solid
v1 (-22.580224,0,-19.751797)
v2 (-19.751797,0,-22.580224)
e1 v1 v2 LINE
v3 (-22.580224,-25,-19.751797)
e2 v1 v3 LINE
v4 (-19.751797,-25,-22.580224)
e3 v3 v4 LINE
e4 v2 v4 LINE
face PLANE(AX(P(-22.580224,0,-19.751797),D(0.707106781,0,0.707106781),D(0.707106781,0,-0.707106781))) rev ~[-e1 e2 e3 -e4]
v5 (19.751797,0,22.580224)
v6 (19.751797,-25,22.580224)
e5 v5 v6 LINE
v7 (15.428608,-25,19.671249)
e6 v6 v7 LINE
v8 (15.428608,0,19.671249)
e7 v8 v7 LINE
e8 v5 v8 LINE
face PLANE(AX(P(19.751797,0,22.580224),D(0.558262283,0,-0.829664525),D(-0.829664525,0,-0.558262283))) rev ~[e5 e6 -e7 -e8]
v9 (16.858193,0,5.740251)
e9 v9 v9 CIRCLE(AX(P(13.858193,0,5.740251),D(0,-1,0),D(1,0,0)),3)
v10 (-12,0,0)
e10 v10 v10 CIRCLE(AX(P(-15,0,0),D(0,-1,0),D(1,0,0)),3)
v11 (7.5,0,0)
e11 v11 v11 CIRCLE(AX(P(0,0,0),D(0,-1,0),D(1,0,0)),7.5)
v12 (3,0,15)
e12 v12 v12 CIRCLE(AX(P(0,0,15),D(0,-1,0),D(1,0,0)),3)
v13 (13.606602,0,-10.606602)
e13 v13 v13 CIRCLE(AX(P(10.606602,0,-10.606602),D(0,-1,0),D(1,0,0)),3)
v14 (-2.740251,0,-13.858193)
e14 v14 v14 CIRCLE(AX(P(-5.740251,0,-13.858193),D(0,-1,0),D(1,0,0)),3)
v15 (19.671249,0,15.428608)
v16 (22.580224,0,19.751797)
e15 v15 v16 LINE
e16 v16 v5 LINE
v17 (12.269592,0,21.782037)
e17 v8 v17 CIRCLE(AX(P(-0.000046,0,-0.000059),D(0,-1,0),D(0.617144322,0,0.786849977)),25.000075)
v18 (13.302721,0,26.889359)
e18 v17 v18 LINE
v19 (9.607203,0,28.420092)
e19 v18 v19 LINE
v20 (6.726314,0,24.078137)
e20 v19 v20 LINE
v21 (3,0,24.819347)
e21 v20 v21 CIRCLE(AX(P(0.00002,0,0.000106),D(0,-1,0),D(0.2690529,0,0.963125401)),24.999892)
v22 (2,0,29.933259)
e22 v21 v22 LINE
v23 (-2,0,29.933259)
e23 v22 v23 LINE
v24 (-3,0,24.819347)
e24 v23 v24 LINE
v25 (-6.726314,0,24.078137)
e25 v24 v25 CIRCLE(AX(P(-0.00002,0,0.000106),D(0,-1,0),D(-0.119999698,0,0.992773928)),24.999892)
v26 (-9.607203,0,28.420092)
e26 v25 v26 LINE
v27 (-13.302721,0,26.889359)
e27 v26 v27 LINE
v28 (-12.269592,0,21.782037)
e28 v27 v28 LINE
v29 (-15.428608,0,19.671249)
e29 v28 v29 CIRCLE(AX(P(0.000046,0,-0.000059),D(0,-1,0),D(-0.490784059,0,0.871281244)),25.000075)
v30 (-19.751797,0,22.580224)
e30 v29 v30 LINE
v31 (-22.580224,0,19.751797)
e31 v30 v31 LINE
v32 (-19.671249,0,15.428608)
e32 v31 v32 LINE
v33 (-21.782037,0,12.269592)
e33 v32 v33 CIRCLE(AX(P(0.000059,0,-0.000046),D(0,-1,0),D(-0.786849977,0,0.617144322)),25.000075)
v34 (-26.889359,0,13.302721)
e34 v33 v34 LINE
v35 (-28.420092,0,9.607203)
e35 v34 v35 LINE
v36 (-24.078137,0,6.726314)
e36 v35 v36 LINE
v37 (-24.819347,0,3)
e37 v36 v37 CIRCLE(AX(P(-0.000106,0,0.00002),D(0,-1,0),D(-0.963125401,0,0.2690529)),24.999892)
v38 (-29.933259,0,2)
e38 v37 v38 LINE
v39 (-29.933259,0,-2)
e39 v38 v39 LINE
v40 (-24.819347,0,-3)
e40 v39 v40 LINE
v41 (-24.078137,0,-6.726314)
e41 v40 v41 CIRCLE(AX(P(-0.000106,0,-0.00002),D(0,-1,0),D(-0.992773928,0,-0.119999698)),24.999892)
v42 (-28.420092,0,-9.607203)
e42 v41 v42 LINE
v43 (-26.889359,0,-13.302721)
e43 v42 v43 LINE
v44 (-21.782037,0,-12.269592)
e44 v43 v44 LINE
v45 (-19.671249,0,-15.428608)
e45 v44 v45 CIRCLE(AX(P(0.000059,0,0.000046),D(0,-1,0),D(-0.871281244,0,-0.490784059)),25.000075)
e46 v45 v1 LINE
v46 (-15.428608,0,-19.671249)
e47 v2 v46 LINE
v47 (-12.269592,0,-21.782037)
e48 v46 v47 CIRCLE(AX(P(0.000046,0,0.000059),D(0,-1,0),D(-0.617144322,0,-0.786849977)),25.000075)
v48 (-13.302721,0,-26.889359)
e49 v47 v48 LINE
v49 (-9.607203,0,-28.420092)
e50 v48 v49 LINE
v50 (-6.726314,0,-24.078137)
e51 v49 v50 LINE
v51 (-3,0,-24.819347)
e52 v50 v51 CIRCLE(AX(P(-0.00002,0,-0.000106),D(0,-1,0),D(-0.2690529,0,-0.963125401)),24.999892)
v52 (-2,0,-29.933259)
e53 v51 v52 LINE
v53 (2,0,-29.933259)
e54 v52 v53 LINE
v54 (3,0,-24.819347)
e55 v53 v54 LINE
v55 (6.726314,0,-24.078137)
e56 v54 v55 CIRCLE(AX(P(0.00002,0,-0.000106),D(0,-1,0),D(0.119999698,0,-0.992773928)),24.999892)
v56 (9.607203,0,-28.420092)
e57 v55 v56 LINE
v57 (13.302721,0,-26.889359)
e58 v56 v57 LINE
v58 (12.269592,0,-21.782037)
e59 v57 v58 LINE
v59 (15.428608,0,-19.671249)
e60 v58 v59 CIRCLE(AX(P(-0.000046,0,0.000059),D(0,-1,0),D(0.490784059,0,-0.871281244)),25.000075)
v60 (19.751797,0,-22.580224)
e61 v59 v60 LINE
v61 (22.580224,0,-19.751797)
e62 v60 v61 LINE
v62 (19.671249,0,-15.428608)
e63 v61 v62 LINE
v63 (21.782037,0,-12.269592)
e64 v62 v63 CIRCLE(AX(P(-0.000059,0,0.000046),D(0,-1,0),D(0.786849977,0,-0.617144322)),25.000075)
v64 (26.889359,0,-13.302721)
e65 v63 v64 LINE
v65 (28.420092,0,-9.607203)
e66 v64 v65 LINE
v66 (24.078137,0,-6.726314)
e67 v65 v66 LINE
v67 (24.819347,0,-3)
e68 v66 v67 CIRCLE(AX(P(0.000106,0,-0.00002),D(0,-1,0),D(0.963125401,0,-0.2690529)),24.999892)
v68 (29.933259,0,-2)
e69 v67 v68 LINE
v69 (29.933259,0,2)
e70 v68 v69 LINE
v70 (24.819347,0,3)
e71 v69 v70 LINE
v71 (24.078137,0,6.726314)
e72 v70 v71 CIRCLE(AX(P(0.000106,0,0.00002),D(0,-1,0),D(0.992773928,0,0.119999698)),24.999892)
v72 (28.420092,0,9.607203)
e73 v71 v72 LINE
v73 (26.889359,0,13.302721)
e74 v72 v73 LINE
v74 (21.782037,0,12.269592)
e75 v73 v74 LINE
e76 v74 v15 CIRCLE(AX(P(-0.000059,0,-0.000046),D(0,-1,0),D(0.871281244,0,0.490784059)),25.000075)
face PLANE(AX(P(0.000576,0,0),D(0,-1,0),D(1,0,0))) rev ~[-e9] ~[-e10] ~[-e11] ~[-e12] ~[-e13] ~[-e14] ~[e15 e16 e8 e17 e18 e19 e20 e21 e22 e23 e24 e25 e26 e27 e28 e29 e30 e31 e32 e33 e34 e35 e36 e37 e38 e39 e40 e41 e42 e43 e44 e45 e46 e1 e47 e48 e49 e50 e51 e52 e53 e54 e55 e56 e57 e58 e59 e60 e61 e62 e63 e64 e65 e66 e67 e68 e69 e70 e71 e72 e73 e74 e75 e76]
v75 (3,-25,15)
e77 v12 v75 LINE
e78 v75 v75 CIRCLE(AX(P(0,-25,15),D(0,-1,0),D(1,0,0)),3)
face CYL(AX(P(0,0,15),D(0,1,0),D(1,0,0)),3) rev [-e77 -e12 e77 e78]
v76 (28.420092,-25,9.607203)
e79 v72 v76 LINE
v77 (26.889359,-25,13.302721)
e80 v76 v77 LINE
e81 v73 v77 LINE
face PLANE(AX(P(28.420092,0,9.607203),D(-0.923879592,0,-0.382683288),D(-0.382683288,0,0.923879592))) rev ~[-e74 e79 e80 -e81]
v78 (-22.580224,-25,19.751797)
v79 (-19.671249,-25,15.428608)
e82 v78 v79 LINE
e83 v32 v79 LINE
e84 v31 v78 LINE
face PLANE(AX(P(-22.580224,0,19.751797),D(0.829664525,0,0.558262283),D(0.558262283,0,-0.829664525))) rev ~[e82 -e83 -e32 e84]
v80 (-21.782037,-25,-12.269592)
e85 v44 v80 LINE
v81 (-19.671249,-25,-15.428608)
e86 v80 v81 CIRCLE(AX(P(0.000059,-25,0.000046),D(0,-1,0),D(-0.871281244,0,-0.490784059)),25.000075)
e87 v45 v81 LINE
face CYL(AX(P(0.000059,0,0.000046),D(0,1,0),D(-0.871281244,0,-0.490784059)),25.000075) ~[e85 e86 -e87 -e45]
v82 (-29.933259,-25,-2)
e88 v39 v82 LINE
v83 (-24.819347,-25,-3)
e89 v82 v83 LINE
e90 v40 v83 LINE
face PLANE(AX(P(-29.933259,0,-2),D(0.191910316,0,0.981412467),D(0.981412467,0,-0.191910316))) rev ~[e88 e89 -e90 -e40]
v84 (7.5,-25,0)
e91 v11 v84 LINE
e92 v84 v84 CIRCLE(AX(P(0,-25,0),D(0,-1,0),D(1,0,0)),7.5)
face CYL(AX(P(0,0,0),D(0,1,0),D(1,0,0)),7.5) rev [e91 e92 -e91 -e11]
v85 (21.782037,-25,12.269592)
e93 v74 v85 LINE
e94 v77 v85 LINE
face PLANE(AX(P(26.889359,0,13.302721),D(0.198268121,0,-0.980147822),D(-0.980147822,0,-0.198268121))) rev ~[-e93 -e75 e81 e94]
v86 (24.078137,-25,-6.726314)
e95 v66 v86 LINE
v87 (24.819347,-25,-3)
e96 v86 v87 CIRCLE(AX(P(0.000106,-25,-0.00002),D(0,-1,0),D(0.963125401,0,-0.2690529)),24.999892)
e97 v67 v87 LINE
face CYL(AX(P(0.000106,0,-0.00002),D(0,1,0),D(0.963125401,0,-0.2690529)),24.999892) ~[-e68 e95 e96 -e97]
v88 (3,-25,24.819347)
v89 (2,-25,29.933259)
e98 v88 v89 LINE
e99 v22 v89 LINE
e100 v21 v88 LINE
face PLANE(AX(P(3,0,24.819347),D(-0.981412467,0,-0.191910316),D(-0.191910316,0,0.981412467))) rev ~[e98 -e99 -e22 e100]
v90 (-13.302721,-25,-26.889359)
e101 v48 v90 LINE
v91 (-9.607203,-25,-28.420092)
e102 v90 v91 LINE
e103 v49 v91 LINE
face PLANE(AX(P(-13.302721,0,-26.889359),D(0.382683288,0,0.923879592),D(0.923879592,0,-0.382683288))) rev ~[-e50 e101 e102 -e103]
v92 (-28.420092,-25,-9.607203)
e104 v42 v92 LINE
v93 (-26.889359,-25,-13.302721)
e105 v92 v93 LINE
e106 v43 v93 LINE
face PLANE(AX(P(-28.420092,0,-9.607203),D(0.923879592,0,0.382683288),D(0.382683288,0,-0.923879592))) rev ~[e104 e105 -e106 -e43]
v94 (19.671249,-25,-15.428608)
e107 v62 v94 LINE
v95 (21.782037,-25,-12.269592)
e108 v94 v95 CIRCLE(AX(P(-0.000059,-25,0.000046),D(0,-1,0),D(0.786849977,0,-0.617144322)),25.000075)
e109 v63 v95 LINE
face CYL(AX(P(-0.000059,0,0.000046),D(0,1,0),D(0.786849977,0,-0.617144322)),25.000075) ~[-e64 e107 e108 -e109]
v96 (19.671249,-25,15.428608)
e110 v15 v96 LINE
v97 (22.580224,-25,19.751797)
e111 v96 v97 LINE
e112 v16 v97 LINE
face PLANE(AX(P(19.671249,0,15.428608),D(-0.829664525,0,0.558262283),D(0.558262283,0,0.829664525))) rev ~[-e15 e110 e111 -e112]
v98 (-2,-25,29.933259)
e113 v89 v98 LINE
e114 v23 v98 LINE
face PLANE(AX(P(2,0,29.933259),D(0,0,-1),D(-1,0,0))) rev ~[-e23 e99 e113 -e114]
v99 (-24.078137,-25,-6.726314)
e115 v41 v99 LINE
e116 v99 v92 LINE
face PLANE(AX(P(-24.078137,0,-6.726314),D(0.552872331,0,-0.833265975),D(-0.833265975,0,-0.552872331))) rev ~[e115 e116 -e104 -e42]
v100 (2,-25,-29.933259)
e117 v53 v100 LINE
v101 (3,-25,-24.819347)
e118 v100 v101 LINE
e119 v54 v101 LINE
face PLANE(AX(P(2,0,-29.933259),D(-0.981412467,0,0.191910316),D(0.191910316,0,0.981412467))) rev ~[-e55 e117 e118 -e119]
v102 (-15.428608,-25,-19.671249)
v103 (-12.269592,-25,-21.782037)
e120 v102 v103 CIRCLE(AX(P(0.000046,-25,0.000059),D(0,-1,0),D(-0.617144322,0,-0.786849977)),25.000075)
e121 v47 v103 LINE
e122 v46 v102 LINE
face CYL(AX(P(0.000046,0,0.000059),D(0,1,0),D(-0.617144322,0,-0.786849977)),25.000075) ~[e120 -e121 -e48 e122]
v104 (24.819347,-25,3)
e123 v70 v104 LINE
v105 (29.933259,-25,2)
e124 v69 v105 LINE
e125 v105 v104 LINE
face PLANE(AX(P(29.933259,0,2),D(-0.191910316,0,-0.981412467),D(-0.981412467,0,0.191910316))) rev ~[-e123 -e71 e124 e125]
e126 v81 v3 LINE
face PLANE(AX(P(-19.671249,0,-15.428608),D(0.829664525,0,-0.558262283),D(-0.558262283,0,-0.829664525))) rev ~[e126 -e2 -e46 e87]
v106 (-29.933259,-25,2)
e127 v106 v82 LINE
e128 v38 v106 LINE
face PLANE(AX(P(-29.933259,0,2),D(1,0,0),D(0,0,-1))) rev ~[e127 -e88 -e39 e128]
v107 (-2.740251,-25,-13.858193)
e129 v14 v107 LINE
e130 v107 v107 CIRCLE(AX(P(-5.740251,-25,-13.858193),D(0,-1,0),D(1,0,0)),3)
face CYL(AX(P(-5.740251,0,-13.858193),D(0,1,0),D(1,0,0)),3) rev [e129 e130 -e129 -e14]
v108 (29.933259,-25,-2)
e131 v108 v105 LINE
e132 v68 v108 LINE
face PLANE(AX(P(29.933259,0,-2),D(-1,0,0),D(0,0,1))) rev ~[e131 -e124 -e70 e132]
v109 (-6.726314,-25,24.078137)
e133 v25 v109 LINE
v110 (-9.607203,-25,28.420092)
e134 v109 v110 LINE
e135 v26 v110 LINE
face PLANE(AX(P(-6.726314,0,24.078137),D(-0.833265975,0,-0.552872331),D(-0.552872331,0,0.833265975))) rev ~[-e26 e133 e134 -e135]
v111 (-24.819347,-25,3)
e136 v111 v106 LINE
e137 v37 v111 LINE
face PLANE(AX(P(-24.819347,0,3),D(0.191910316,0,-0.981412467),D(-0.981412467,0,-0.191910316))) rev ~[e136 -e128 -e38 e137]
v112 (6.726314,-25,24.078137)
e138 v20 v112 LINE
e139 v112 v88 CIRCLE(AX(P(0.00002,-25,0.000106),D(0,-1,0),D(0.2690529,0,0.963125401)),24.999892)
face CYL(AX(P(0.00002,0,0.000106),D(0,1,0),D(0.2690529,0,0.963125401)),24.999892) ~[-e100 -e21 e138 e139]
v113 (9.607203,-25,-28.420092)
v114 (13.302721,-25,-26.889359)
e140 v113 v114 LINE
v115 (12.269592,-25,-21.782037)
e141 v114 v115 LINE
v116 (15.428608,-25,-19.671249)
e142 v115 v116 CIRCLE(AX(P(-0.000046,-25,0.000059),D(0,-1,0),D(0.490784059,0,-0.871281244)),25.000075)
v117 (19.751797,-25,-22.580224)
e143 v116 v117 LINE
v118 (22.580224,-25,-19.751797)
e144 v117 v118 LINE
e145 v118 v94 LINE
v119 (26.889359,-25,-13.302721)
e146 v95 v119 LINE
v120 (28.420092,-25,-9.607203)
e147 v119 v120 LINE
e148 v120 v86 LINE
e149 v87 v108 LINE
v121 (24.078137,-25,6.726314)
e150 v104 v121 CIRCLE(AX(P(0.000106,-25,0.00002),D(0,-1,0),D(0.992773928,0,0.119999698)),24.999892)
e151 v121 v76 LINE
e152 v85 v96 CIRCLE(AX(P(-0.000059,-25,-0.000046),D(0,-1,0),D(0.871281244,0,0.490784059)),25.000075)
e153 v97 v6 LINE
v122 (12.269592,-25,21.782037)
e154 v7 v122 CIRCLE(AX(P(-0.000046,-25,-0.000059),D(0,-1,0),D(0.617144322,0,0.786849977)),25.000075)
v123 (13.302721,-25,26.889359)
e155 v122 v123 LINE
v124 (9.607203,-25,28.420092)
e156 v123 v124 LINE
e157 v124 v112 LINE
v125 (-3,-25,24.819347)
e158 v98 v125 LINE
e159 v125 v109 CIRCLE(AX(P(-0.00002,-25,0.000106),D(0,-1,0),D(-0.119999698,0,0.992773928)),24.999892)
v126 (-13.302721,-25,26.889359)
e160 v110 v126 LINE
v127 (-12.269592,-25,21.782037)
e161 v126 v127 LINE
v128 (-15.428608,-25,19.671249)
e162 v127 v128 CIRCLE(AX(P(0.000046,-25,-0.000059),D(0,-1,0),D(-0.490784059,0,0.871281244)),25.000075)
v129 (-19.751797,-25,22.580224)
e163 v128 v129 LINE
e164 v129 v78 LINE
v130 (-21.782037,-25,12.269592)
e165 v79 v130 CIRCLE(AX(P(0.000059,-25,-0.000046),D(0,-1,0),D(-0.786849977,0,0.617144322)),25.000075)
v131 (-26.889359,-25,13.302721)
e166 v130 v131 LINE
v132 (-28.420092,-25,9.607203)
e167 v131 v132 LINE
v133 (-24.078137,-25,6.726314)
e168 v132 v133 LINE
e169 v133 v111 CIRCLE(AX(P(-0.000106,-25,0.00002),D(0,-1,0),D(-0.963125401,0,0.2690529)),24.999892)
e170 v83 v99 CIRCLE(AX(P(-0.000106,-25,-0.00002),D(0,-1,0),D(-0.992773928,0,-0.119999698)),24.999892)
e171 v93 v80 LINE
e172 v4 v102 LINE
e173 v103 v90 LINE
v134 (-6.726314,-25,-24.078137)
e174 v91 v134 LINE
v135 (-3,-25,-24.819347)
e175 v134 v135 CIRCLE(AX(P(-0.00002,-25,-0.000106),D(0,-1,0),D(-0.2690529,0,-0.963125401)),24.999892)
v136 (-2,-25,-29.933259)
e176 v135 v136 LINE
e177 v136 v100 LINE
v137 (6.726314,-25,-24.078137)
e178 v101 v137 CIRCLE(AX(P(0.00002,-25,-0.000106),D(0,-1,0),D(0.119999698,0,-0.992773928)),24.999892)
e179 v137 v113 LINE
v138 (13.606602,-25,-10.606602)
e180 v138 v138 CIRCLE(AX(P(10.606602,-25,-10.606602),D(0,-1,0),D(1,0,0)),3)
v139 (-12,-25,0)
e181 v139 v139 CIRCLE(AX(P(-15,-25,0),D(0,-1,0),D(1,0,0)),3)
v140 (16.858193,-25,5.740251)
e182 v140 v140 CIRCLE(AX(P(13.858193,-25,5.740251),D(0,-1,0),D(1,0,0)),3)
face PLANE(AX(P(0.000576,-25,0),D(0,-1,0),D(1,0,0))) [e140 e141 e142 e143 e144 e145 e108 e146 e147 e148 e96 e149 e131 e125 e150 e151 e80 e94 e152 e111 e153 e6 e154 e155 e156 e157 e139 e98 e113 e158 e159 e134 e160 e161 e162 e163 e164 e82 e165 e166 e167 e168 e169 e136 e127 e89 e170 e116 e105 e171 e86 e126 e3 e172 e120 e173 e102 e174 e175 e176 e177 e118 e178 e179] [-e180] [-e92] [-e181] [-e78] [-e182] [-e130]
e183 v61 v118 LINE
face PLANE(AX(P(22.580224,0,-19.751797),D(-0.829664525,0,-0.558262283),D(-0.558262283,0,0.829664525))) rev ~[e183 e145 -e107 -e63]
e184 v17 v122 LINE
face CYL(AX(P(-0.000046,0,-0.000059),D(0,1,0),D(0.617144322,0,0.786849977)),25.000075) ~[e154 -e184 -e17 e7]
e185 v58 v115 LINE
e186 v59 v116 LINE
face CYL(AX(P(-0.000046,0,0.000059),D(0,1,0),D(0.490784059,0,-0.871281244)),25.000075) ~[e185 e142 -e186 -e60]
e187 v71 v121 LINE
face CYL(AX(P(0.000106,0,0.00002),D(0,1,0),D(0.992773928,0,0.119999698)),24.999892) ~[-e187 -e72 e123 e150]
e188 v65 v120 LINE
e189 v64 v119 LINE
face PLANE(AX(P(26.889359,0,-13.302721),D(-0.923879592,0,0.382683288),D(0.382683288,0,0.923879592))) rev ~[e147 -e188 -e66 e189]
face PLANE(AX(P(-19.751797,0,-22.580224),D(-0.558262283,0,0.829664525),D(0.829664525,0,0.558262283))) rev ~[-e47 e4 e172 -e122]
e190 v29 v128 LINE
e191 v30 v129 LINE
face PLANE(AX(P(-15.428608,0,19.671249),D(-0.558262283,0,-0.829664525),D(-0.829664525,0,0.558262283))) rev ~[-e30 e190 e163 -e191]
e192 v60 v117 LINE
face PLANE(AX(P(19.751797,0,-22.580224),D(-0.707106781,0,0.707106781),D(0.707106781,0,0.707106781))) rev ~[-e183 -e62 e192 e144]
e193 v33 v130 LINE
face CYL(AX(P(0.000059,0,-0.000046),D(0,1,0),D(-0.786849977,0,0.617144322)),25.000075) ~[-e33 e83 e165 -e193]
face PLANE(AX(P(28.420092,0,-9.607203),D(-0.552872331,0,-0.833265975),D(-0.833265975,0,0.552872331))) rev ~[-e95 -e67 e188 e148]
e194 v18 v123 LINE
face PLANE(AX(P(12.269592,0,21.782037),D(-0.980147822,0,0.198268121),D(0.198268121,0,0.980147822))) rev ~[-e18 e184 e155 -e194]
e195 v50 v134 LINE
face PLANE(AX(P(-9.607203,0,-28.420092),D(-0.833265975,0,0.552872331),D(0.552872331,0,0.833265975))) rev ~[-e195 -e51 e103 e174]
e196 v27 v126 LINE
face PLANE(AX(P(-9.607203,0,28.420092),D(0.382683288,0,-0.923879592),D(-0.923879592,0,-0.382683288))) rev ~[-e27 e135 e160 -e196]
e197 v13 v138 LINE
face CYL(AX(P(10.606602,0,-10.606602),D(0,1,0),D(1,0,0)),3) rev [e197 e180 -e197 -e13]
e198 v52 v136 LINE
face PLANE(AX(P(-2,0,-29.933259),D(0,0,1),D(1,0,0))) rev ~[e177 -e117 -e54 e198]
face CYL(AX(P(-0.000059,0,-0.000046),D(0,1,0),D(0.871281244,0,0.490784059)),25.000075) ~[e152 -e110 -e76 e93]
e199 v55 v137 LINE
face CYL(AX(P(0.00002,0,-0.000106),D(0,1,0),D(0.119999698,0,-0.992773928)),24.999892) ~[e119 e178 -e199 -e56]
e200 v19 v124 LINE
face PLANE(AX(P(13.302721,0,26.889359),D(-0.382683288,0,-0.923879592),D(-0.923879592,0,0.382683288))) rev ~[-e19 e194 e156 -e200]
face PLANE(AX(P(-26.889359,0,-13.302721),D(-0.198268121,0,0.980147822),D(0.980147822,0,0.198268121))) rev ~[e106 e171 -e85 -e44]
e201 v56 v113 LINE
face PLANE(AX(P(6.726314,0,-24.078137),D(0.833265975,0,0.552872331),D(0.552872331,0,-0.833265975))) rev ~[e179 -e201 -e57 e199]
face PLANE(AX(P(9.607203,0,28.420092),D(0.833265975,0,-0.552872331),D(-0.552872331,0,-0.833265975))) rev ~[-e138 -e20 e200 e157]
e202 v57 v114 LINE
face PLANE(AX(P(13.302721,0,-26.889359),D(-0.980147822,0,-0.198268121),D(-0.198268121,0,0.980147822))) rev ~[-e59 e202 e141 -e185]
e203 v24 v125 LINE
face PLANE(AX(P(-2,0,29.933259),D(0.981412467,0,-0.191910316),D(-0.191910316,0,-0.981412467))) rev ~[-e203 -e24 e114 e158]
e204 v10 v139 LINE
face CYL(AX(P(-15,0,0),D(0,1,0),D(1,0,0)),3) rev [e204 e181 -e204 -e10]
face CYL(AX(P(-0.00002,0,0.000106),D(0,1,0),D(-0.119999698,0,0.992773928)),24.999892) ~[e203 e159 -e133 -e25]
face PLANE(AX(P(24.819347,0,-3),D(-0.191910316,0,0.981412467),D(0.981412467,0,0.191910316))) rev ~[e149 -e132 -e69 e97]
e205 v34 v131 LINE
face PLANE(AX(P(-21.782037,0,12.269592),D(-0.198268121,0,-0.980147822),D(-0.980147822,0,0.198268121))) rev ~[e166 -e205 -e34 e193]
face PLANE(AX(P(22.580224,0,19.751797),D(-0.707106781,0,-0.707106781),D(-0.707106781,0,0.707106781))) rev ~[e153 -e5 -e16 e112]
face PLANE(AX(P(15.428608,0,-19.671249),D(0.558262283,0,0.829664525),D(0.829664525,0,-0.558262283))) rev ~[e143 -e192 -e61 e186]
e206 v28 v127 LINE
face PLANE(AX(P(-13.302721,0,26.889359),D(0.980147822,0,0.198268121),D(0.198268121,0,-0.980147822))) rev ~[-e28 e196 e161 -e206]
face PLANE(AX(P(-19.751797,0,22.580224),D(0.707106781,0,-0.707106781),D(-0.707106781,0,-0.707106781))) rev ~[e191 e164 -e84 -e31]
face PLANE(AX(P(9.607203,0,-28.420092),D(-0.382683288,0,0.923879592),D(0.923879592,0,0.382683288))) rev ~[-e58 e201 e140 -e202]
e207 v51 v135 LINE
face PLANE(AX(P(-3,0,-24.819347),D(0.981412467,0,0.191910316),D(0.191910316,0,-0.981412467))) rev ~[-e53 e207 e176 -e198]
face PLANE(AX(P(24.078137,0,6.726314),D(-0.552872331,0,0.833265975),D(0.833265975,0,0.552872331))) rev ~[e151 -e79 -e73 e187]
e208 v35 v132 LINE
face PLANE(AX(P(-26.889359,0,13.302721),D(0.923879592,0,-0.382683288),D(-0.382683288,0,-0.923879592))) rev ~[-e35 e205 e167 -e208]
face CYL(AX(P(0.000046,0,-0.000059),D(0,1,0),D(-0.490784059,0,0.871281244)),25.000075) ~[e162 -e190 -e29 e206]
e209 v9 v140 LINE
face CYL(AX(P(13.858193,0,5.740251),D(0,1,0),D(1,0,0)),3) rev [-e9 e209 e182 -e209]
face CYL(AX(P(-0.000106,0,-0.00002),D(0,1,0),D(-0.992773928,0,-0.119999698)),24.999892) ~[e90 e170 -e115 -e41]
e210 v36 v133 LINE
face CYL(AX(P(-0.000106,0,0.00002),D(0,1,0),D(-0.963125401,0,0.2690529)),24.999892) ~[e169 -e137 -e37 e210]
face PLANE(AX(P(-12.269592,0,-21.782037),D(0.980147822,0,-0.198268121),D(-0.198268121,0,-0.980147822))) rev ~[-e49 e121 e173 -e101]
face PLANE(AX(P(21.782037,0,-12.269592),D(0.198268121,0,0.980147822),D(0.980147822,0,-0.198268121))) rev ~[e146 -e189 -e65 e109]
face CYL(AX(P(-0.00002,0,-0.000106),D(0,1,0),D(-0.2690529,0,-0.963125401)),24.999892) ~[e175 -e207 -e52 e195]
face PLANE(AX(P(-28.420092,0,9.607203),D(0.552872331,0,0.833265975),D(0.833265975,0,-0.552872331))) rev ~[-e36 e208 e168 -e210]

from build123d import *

# Parameters (mm, degrees)
F0_R     = 3
F0_R_2   = 7.5
F1_DEPTH = 25


with BuildPart() as f1:
    # F0 (on Front) → F1 (new body)
    with BuildSketch(Plane.XZ):
        with BuildLine():
            ThreePointArc((24.819347, -3), (24.954796, -1.502717), (25, 0))
            ThreePointArc((25, 0), (24.954796, 1.502717), (24.819347, 3))
            ThreePointArc((24.819347, 3), (24.519632, 4.877258), (24.078137, 6.726314))
            ThreePointArc((24.078137, 6.726314), (23.096988, 9.567086), (21.782037, 12.269592))
            ThreePointArc((21.782037, 12.269592), (20.78674, 13.889256), (19.671249, 15.428608))
            ThreePointArc((19.671249, 15.428608), (17.67767, 17.67767), (15.428608, 19.671249))
            ThreePointArc((15.428608, 19.671249), (13.889256, 20.78674), (12.269592, 21.782037))
            ThreePointArc((12.269592, 21.782037), (9.567086, 23.096988), (6.726314, 24.078137))
            ThreePointArc((6.726314, 24.078137), (4.877258, 24.519632), (3, 24.819347))
            ThreePointArc((3, 24.819347), (0, 25), (-3, 24.819347))
            ThreePointArc((-3, 24.819347), (-4.877258, 24.519632), (-6.726314, 24.078137))
            ThreePointArc((-6.726314, 24.078137), (-9.567086, 23.096988), (-12.269592, 21.782037))
            ThreePointArc((-12.269592, 21.782037), (-13.889256, 20.78674), (-15.428608, 19.671249))
            ThreePointArc((-15.428608, 19.671249), (-17.67767, 17.67767), (-19.671249, 15.428608))
            ThreePointArc((-19.671249, 15.428608), (-20.78674, 13.889256), (-21.782037, 12.269592))
            ThreePointArc((-21.782037, 12.269592), (-23.096988, 9.567086), (-24.078137, 6.726314))
            ThreePointArc((-24.078137, 6.726314), (-24.519632, 4.877258), (-24.819347, 3))
            ThreePointArc((-24.819347, 3), (-25, 0), (-24.819347, -3))
            ThreePointArc((-24.819347, -3), (-24.519632, -4.877258), (-24.078137, -6.726314))
            ThreePointArc((-24.078137, -6.726314), (-23.096988, -9.567086), (-21.782037, -12.269592))
            ThreePointArc((-21.782037, -12.269592), (-20.78674, -13.889256), (-19.671249, -15.428608))
            ThreePointArc((-19.671249, -15.428608), (-17.67767, -17.67767), (-15.428608, -19.671249))
            ThreePointArc((-15.428608, -19.671249), (-13.889256, -20.78674), (-12.269592, -21.782037))
            ThreePointArc((-12.269592, -21.782037), (-9.567086, -23.096988), (-6.726314, -24.078137))
            ThreePointArc((-6.726314, -24.078137), (-4.877258, -24.519632), (-3, -24.819347))
            ThreePointArc((-3, -24.819347), (0, -25), (3, -24.819347))
            ThreePointArc((3, -24.819347), (4.877258, -24.519632), (6.726314, -24.078137))
            ThreePointArc((6.726314, -24.078137), (9.567086, -23.096988), (12.269592, -21.782037))
            ThreePointArc((12.269592, -21.782037), (13.889256, -20.78674), (15.428608, -19.671249))
            ThreePointArc((15.428608, -19.671249), (17.67767, -17.67767), (19.671249, -15.428608))
            ThreePointArc((19.671249, -15.428608), (20.78674, -13.889256), (21.782037, -12.269592))
            ThreePointArc((21.782037, -12.269592), (23.096988, -9.567086), (24.078137, -6.726314))
            ThreePointArc((24.078137, -6.726314), (24.519632, -4.877258), (24.819347, -3))
        make_face()
        with Locations((-15, 0)):
            Circle(F0_R, mode=Mode.SUBTRACT)
        with Locations((-5.740251, -13.858193)):
            Circle(F0_R, mode=Mode.SUBTRACT)
        Circle(F0_R_2, mode=Mode.SUBTRACT)
        with Locations((10.606602, -10.606602)):
            Circle(F0_R, mode=Mode.SUBTRACT)
        with Locations((0, 15)):
            Circle(F0_R, mode=Mode.SUBTRACT)
        with Locations((13.858193, 5.740251)):
            Circle(F0_R, mode=Mode.SUBTRACT)
        with BuildLine():
            ThreePointArc((24.819347, 3), (24.954796, 1.502717), (25, 0))
            ThreePointArc((25, 0), (24.954796, -1.502717), (24.819347, -3))
            Line((24.819347, -3), (29.933259, -2))
            Line((29.933259, -2), (29.933259, 2))
            Line((29.933259, 2), (24.819347, 3))
        make_face()
        with BuildLine():
            ThreePointArc((21.782037, 12.269592), (23.096988, 9.567086), (24.078137, 6.726314))
            Line((24.078137, 6.726314), (28.420092, 9.607203))
            Line((28.420092, 9.607203), (26.889359, 13.302721))
            Line((26.889359, 13.302721), (21.782037, 12.269592))
        make_face()
        with BuildLine():
            Line((28.420092, -9.607203), (24.078137, -6.726314))
            ThreePointArc((24.078137, -6.726314), (23.096988, -9.567086), (21.782037, -12.269592))
            Line((21.782037, -12.269592), (26.889359, -13.302721))
            Line((26.889359, -13.302721), (28.420092, -9.607203))
        make_face()
        with BuildLine():
            ThreePointArc((15.428608, 19.671249), (17.67767, 17.67767), (19.671249, 15.428608))
            Line((19.671249, 15.428608), (22.580224, 19.751797))
            Line((22.580224, 19.751797), (19.751797, 22.580224))
            Line((19.751797, 22.580224), (15.428608, 19.671249))
        make_face()
        with BuildLine():
            Line((22.580224, -19.751797), (19.671249, -15.428608))
            ThreePointArc((19.671249, -15.428608), (17.67767, -17.67767), (15.428608, -19.671249))
            Line((15.428608, -19.671249), (19.751797, -22.580224))
            Line((19.751797, -22.580224), (22.580224, -19.751797))
        make_face()
        with BuildLine():
            ThreePointArc((6.726314, 24.078137), (9.567086, 23.096988), (12.269592, 21.782037))
            Line((12.269592, 21.782037), (13.302721, 26.889359))
            Line((13.302721, 26.889359), (9.607203, 28.420092))
            Line((9.607203, 28.420092), (6.726314, 24.078137))
        make_face()
        with BuildLine():
            Line((13.302721, -26.889359), (12.269592, -21.782037))
            ThreePointArc((12.269592, -21.782037), (9.567086, -23.096988), (6.726314, -24.078137))
            Line((6.726314, -24.078137), (9.607203, -28.420092))
            Line((9.607203, -28.420092), (13.302721, -26.889359))
        make_face()
        with BuildLine():
            ThreePointArc((-3, 24.819347), (0, 25), (3, 24.819347))
            Line((3, 24.819347), (2, 29.933259))
            Line((2, 29.933259), (-2, 29.933259))
            Line((-2, 29.933259), (-3, 24.819347))
        make_face()
        with BuildLine():
            Line((2, -29.933259), (3, -24.819347))
            ThreePointArc((3, -24.819347), (0, -25), (-3, -24.819347))
            Line((-3, -24.819347), (-2, -29.933259))
            Line((-2, -29.933259), (2, -29.933259))
        make_face()
        with BuildLine():
            ThreePointArc((-12.269592, 21.782037), (-9.567086, 23.096988), (-6.726314, 24.078137))
            Line((-6.726314, 24.078137), (-9.607203, 28.420092))
            Line((-9.607203, 28.420092), (-13.302721, 26.889359))
            Line((-13.302721, 26.889359), (-12.269592, 21.782037))
        make_face()
        with BuildLine():
            Line((-9.607203, -28.420092), (-6.726314, -24.078137))
            ThreePointArc((-6.726314, -24.078137), (-9.567086, -23.096988), (-12.269592, -21.782037))
            Line((-12.269592, -21.782037), (-13.302721, -26.889359))
            Line((-13.302721, -26.889359), (-9.607203, -28.420092))
        make_face()
        with BuildLine():
            ThreePointArc((-19.671249, 15.428608), (-17.67767, 17.67767), (-15.428608, 19.671249))
            Line((-15.428608, 19.671249), (-19.751797, 22.580224))
            Line((-19.751797, 22.580224), (-22.580224, 19.751797))
            Line((-22.580224, 19.751797), (-19.671249, 15.428608))
        make_face()
        with BuildLine():
            Line((-19.751797, -22.580224), (-15.428608, -19.671249))
            ThreePointArc((-15.428608, -19.671249), (-17.67767, -17.67767), (-19.671249, -15.428608))
            Line((-19.671249, -15.428608), (-22.580224, -19.751797))
            Line((-22.580224, -19.751797), (-19.751797, -22.580224))
        make_face()
        with BuildLine():
            ThreePointArc((-24.078137, 6.726314), (-23.096988, 9.567086), (-21.782037, 12.269592))
            Line((-21.782037, 12.269592), (-26.889359, 13.302721))
            Line((-26.889359, 13.302721), (-28.420092, 9.607203))
            Line((-28.420092, 9.607203), (-24.078137, 6.726314))
        make_face()
        with BuildLine():
            Line((-26.889359, -13.302721), (-21.782037, -12.269592))
            ThreePointArc((-21.782037, -12.269592), (-23.096988, -9.567086), (-24.078137, -6.726314))
            Line((-24.078137, -6.726314), (-28.420092, -9.607203))
            Line((-28.420092, -9.607203), (-26.889359, -13.302721))
        make_face()
        with BuildLine():
            ThreePointArc((-24.819347, -3), (-25, 0), (-24.819347, 3))
            Line((-24.819347, 3), (-29.933259, 2))
            Line((-29.933259, 2), (-29.933259, -2))
            Line((-29.933259, -2), (-24.819347, -3))
        make_face()
    extrude(amount=F1_DEPTH)


solid = f1.part
